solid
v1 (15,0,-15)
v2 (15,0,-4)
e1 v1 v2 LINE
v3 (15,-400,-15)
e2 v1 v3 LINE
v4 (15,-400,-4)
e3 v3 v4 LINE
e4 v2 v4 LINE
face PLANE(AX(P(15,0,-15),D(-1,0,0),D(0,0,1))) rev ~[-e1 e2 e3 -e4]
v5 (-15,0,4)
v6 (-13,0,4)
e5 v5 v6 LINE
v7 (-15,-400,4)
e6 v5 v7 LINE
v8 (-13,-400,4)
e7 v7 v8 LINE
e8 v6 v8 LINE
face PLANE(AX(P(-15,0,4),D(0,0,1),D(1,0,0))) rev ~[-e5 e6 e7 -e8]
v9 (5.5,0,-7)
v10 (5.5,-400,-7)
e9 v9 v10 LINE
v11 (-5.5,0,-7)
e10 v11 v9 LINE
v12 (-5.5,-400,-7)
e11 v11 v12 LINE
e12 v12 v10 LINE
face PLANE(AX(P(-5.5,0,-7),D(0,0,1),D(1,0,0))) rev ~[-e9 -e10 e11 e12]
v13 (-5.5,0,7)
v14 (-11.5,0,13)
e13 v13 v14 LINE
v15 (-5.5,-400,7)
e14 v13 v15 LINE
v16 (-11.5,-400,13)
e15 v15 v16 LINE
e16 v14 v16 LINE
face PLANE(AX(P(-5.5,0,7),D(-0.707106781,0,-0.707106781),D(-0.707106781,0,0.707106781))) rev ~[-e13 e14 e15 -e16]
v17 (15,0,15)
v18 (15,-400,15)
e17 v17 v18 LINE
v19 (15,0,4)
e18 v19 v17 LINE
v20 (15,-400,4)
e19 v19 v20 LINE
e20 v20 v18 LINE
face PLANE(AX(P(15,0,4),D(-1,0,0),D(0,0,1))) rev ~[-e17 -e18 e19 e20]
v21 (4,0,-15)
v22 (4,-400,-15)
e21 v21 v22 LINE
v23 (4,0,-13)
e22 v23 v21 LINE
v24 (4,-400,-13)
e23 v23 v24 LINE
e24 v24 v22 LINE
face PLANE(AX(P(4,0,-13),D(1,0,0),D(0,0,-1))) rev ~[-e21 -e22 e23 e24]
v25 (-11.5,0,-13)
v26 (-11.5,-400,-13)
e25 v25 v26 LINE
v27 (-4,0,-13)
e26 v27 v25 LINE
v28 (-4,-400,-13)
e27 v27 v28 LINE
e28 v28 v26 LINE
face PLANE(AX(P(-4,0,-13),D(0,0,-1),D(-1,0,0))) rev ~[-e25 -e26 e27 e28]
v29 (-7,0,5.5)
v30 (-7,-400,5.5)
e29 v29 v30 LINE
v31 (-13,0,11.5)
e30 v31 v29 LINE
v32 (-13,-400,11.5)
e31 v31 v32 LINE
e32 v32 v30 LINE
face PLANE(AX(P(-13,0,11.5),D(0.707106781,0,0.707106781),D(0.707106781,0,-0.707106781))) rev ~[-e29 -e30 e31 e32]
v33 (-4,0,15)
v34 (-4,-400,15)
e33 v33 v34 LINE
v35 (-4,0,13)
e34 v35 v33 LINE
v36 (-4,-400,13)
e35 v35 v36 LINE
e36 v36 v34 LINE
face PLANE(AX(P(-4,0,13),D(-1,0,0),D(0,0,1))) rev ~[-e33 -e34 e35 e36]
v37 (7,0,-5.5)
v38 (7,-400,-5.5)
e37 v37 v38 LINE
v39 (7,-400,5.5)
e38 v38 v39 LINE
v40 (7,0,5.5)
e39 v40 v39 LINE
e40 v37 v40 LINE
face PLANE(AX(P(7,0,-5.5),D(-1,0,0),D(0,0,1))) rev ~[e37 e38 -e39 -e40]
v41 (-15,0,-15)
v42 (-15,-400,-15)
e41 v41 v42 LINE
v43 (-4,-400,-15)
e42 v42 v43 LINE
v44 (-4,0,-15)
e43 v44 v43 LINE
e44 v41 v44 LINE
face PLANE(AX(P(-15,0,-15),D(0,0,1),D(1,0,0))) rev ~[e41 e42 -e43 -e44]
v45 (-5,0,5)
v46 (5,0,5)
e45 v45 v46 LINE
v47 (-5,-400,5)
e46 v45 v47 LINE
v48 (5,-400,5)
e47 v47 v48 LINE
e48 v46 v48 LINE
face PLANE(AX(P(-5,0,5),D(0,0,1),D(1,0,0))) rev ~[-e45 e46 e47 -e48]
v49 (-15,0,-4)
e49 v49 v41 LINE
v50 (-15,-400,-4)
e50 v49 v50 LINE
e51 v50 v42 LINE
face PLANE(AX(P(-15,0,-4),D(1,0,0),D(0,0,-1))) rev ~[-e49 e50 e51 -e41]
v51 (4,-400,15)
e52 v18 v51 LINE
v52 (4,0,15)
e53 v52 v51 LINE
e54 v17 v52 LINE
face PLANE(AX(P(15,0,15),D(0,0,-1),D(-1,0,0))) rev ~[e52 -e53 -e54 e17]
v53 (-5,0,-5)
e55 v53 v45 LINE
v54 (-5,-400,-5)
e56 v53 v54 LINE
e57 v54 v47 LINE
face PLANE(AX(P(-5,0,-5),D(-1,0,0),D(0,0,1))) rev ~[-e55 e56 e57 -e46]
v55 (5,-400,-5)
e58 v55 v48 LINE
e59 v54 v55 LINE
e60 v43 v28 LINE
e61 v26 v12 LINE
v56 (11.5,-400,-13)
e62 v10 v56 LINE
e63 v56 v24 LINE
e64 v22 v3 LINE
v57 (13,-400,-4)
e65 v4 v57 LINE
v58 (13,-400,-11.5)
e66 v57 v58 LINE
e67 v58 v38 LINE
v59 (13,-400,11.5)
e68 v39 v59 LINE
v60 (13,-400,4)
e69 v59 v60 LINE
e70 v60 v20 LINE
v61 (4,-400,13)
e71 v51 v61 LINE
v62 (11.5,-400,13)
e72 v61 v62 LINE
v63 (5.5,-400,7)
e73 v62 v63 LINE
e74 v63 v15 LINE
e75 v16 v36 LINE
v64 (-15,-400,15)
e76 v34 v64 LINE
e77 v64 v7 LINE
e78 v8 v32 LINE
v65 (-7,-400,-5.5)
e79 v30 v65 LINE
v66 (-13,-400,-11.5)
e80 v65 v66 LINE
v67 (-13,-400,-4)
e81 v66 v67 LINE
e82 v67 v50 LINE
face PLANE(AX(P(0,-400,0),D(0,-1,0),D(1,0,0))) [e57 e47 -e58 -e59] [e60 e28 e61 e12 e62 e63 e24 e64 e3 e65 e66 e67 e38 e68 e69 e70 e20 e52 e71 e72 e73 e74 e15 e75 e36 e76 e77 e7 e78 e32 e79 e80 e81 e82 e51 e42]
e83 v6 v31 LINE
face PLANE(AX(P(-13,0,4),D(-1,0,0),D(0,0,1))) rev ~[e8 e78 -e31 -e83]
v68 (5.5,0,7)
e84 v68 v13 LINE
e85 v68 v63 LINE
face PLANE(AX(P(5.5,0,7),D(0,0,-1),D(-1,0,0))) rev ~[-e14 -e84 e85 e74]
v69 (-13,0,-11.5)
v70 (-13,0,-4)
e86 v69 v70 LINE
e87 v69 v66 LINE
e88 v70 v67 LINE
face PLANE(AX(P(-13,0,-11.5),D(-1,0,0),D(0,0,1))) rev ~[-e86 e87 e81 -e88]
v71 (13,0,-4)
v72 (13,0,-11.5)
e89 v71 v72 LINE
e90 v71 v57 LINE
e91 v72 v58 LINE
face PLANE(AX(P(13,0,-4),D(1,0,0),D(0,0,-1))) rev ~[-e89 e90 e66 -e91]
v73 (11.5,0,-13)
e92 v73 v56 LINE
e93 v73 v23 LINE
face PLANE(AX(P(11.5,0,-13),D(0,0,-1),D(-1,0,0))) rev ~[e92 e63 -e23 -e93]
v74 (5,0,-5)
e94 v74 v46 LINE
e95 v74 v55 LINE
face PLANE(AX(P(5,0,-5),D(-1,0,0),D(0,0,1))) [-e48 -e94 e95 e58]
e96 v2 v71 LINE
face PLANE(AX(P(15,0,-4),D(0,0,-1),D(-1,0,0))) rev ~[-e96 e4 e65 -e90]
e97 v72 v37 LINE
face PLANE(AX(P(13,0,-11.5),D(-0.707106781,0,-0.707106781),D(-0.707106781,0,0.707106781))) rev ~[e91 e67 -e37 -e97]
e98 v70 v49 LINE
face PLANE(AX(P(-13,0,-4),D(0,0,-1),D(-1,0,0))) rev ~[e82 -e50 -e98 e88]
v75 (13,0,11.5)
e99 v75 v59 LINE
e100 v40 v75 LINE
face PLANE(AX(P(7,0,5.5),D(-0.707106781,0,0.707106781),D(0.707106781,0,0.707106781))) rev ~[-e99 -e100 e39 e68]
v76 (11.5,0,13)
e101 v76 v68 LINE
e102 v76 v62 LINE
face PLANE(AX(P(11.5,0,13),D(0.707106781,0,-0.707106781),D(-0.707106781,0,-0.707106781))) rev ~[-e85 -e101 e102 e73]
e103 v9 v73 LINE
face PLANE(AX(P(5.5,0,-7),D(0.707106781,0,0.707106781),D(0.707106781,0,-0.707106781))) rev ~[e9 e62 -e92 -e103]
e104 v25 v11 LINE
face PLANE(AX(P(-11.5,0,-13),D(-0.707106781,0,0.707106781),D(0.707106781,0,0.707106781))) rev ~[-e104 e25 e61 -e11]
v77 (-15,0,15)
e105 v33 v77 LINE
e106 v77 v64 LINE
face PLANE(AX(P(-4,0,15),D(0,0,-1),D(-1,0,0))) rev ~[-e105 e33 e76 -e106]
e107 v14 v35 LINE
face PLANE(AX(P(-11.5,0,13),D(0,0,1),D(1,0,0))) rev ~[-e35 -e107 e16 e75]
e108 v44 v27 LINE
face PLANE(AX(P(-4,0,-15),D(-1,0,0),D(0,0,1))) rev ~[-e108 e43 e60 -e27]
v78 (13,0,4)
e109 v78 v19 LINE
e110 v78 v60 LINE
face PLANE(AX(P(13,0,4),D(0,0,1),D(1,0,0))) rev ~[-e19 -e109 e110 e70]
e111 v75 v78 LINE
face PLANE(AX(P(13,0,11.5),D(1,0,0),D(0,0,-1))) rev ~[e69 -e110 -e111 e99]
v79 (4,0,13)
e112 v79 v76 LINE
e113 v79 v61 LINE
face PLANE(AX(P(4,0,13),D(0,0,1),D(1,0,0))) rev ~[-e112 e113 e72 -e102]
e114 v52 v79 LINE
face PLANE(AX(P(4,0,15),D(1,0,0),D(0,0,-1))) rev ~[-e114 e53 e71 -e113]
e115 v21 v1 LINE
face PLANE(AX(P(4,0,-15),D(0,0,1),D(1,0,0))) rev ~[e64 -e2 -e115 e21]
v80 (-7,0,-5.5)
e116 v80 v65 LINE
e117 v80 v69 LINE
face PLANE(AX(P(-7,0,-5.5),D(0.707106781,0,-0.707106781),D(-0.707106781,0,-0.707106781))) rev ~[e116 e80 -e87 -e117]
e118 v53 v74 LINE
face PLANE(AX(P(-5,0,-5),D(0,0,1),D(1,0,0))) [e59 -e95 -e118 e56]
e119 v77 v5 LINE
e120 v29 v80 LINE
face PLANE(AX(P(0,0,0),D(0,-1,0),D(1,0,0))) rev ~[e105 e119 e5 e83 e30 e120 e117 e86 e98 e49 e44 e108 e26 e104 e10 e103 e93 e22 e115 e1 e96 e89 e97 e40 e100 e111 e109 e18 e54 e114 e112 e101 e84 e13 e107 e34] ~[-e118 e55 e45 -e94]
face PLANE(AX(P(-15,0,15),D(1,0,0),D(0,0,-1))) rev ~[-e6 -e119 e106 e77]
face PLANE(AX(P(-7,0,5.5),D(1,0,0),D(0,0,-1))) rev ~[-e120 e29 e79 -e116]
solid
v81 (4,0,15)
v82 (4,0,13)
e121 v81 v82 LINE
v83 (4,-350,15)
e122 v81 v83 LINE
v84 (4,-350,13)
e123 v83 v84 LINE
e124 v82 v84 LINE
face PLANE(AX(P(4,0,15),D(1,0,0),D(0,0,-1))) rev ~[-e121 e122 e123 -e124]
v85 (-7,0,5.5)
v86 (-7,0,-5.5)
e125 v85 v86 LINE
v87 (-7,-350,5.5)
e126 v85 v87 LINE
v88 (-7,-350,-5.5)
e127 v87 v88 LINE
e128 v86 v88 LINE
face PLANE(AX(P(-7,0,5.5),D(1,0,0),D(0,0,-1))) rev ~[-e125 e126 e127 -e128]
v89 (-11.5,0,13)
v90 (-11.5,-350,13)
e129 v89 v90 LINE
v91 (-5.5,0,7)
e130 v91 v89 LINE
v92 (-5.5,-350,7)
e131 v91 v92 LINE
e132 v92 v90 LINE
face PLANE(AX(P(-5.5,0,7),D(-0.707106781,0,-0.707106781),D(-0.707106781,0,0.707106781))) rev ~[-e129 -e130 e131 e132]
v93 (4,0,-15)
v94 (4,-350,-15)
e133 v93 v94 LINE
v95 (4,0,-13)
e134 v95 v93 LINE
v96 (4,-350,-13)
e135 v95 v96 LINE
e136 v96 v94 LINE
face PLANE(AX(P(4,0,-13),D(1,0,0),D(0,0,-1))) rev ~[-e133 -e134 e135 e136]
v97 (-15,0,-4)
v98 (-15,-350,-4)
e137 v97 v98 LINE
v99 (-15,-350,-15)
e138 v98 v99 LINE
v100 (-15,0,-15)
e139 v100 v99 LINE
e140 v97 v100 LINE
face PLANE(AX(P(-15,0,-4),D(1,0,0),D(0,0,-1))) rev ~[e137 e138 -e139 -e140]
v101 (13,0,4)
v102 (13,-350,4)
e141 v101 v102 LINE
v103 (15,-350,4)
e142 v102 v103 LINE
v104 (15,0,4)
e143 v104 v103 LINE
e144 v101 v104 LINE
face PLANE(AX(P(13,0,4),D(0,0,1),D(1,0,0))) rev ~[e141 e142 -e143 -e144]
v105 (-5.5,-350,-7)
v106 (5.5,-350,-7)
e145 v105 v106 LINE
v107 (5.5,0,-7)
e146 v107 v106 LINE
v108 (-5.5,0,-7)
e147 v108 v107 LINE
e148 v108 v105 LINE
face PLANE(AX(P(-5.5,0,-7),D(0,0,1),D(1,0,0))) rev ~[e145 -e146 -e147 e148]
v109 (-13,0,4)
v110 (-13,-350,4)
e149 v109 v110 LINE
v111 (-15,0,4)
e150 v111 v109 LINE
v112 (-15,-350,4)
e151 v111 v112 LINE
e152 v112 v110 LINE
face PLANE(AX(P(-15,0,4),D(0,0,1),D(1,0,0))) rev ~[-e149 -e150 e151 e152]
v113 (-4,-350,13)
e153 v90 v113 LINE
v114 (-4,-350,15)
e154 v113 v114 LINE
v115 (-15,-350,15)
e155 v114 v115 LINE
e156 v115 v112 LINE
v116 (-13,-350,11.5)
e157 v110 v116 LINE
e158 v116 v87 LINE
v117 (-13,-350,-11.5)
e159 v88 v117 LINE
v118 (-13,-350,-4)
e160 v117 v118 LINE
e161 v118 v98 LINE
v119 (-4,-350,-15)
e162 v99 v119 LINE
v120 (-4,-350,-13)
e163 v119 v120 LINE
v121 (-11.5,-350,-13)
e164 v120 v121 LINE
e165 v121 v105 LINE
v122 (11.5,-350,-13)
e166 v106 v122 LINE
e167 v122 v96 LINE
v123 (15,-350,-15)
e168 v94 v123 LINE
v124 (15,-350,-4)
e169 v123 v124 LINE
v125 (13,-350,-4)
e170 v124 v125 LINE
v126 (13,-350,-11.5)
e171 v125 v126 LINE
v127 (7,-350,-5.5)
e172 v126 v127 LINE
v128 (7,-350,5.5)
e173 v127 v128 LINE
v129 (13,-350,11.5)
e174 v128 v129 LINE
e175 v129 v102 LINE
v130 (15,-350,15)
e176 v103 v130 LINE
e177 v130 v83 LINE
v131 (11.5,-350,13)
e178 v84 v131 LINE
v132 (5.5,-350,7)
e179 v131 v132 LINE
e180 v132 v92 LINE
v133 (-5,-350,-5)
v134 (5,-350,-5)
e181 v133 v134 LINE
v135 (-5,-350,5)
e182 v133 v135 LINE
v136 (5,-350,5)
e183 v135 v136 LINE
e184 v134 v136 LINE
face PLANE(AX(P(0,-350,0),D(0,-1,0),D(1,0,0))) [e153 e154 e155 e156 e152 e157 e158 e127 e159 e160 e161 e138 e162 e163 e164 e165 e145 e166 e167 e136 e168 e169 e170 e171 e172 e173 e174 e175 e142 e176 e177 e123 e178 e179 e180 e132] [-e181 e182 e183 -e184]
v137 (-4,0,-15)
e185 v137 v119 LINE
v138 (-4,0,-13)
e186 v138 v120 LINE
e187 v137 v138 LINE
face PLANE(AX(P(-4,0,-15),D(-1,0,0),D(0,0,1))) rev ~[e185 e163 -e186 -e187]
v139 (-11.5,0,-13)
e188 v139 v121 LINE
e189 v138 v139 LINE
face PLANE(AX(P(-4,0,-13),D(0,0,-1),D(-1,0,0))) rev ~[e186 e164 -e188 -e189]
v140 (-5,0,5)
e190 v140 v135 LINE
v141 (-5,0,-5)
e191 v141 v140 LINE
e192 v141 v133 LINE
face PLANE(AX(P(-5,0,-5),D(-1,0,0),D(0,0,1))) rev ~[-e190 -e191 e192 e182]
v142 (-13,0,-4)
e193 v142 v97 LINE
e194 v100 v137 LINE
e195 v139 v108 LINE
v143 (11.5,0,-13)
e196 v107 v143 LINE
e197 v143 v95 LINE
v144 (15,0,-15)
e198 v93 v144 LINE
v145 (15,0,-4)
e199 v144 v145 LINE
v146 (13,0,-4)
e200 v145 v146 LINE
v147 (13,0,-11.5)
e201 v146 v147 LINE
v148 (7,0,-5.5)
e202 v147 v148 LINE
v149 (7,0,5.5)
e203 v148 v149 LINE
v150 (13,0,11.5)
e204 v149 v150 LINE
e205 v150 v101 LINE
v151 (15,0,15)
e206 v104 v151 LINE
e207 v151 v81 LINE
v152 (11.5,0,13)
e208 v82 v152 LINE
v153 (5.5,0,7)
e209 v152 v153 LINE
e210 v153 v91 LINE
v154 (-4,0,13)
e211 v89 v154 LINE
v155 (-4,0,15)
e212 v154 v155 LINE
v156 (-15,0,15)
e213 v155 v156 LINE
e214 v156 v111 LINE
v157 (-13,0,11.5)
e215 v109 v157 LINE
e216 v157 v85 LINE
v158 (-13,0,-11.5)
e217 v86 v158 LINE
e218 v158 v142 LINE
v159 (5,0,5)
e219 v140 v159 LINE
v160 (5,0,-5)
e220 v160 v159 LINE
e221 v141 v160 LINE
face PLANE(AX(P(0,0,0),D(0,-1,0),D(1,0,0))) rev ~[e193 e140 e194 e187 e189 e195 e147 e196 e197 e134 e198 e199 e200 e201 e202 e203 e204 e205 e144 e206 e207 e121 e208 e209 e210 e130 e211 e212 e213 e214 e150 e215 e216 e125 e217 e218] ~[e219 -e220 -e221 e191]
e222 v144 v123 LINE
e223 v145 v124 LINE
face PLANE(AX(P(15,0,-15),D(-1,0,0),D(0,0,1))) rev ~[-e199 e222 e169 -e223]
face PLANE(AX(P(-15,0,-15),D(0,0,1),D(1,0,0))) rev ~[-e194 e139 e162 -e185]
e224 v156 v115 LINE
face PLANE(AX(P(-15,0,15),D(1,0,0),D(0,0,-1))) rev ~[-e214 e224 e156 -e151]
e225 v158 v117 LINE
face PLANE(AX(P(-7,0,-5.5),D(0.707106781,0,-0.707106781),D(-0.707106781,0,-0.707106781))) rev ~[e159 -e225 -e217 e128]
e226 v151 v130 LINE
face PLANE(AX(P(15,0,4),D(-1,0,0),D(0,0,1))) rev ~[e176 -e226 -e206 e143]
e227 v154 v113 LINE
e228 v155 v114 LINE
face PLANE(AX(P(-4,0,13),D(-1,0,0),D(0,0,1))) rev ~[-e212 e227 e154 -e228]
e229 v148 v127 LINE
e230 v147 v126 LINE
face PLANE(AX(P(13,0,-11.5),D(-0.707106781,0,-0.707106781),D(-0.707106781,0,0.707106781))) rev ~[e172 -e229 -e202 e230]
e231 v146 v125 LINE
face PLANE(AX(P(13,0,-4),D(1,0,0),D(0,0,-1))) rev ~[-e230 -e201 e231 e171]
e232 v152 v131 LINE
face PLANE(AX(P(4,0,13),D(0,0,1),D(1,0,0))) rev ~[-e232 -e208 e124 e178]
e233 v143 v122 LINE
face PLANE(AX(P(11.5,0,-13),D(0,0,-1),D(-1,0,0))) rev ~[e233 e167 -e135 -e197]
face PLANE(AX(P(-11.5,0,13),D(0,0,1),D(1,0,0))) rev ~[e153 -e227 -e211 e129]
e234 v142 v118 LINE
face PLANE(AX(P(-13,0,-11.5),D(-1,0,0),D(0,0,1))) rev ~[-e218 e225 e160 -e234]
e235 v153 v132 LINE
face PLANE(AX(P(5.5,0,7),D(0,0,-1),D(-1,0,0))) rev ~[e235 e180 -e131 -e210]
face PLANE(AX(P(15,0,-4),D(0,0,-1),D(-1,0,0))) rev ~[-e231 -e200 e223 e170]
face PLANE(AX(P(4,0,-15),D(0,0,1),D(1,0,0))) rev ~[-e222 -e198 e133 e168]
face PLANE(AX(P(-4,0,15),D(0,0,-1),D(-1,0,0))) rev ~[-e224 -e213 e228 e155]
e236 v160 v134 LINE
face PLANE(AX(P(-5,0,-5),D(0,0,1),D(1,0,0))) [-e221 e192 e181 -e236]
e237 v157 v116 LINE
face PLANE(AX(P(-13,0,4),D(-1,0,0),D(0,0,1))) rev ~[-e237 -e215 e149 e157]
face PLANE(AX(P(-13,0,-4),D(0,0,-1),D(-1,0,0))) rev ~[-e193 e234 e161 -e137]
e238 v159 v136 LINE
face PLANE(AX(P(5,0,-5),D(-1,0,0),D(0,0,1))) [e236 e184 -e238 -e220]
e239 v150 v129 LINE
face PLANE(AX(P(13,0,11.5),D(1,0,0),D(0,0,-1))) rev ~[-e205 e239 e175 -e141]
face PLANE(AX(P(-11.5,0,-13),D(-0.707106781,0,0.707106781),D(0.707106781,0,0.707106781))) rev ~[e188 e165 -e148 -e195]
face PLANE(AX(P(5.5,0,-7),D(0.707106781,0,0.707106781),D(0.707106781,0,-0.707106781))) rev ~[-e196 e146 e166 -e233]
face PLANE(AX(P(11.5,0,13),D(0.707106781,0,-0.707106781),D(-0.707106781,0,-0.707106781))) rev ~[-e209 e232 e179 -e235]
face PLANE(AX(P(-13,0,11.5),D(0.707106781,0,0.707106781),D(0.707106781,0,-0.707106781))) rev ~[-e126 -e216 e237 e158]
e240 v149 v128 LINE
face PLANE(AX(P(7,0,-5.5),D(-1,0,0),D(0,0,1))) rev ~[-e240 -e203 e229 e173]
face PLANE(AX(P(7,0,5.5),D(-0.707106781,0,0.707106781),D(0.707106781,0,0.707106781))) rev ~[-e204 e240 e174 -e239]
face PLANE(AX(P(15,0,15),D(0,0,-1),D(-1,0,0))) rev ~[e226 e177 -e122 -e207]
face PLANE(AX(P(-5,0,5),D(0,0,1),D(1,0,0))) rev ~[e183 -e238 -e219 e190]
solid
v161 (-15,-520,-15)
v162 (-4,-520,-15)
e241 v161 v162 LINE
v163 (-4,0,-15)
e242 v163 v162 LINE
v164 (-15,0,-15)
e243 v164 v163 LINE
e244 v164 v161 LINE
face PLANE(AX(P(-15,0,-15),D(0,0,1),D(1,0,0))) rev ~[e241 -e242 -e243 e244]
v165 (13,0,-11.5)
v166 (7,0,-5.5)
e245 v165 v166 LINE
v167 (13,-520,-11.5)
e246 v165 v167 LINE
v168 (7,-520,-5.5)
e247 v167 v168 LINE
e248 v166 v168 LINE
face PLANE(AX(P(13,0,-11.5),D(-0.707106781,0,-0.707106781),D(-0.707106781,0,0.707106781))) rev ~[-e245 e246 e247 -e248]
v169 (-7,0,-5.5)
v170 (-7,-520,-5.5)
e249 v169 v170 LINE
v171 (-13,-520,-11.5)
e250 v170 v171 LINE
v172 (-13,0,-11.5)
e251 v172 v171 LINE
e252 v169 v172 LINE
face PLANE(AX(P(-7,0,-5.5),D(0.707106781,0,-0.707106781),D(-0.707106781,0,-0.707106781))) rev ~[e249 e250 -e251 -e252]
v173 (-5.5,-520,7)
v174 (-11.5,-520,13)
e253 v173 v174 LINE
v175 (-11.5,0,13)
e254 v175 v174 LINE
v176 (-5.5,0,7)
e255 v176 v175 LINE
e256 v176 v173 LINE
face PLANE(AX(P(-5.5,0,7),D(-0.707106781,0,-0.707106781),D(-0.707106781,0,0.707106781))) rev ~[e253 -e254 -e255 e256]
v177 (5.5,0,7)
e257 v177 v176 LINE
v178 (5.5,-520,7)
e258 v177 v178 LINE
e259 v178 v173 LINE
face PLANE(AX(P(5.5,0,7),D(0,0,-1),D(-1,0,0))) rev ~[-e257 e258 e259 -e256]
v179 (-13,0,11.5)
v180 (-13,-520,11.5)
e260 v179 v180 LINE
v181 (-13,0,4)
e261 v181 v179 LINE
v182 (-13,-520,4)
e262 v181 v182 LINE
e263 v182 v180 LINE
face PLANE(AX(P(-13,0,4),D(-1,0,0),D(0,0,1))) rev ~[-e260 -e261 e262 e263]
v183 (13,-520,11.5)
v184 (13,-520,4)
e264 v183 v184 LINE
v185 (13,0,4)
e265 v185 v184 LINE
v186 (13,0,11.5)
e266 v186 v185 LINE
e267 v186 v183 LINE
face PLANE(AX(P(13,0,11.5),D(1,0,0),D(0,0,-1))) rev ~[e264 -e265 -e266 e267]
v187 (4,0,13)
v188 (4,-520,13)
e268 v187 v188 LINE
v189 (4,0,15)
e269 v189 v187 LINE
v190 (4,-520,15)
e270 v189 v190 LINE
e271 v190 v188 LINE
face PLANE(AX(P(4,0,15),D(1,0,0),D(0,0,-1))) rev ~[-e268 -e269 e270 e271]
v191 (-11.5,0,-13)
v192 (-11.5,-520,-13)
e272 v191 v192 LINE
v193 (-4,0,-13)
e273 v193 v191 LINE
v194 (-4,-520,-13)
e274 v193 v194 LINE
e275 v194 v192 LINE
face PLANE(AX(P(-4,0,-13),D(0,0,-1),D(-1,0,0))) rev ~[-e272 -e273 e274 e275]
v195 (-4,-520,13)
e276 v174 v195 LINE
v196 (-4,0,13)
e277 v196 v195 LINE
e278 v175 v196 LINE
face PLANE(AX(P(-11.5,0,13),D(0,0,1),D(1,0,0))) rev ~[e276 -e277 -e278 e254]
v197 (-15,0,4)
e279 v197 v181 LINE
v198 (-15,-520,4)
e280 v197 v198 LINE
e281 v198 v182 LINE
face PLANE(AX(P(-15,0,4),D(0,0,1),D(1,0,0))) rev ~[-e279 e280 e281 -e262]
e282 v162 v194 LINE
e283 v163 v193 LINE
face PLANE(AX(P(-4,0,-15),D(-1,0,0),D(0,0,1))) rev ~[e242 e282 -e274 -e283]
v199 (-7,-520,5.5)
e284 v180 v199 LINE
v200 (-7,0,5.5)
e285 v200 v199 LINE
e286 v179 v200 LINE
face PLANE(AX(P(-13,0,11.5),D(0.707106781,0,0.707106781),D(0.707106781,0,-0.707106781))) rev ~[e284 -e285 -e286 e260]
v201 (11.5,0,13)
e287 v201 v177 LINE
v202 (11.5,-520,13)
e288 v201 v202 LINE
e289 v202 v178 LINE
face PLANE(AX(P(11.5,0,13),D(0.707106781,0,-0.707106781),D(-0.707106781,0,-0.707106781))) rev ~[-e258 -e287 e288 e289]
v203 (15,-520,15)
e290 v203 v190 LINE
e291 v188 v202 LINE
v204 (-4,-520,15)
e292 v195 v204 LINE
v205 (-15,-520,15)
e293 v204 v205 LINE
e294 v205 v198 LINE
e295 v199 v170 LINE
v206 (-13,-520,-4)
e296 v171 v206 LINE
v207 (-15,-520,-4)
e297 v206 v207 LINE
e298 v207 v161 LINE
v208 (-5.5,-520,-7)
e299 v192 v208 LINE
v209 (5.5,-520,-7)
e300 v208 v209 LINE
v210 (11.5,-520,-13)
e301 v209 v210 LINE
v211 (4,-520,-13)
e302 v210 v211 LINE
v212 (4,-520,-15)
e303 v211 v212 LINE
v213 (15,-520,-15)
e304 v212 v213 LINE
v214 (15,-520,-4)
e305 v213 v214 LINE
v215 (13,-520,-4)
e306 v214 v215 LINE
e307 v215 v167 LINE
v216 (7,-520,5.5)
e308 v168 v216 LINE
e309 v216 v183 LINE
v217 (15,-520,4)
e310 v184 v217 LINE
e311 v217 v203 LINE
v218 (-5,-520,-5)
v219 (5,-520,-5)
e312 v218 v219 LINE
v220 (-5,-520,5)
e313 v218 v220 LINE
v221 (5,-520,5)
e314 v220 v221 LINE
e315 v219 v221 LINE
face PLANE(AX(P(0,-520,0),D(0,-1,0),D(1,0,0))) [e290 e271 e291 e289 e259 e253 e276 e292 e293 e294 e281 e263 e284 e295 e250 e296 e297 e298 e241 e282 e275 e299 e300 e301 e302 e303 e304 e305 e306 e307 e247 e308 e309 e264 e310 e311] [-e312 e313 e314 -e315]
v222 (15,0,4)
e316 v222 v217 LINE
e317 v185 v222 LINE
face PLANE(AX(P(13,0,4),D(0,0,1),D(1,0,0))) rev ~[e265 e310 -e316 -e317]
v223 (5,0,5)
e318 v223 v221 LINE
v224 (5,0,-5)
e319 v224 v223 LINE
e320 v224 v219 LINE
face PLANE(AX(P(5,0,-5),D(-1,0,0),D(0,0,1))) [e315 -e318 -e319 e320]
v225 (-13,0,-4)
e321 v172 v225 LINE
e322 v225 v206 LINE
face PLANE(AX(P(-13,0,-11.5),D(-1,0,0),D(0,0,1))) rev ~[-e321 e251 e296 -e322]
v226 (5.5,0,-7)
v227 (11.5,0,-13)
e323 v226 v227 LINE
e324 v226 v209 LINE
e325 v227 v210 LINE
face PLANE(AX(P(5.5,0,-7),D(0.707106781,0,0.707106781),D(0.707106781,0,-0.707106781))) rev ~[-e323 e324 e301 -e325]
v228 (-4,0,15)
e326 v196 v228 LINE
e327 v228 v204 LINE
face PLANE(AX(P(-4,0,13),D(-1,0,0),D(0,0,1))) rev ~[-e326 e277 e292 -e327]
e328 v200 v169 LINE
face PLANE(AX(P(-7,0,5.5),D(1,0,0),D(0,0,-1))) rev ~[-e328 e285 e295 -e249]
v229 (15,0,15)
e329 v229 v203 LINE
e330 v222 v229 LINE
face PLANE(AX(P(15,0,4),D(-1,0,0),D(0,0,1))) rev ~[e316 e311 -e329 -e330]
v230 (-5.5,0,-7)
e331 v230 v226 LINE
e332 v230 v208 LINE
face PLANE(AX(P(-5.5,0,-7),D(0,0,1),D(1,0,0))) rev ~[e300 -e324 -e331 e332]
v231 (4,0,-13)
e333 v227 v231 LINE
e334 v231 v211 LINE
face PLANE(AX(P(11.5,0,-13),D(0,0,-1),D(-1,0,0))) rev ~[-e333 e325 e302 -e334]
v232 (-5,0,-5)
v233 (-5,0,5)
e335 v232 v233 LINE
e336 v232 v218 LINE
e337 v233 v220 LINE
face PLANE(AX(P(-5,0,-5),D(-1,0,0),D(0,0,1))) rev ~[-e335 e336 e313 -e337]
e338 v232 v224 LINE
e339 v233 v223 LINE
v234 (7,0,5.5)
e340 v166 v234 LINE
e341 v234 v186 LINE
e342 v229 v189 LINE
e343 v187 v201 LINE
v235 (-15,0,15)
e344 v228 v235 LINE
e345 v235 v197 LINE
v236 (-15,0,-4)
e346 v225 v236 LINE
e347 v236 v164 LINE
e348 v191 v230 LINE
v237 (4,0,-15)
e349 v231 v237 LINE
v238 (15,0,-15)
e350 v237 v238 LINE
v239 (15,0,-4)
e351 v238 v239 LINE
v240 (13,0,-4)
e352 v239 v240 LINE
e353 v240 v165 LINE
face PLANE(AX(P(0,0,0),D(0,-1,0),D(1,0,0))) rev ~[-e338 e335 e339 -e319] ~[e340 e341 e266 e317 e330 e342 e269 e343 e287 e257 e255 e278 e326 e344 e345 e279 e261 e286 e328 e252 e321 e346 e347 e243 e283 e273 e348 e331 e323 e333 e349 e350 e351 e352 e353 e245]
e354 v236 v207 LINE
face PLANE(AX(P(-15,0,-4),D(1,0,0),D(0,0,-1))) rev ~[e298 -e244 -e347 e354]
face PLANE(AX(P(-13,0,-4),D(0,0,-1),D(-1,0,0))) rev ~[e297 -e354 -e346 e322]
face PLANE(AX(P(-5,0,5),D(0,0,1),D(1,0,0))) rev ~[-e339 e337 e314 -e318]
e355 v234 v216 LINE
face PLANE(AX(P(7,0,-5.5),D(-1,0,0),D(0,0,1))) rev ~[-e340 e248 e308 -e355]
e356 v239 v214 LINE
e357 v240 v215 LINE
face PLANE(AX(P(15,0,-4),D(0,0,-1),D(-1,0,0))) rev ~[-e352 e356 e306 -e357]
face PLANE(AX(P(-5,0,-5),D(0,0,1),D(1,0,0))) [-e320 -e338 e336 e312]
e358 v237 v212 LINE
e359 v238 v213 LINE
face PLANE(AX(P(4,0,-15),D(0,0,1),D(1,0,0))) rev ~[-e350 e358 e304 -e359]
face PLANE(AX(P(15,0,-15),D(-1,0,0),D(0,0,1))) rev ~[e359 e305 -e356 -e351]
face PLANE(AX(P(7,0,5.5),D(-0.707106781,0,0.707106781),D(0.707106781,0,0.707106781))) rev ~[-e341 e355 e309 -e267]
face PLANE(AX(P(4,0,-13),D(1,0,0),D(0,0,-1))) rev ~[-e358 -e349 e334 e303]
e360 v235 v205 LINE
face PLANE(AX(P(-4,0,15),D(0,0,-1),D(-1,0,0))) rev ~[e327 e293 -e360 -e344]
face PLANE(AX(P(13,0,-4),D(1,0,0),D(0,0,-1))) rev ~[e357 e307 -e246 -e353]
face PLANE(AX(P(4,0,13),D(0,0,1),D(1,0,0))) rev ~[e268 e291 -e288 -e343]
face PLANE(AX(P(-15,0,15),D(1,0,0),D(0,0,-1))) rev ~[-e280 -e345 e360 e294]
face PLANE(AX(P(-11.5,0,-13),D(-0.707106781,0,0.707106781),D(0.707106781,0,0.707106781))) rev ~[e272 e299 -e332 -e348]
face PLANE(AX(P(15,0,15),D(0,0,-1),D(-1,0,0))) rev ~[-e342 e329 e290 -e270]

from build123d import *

# Parameters (mm, degrees)
F0_W     = 10
F0_H     = 10
F1_DEPTH = 520
F2_DEPTH = 400
F3_DEPTH = 350


with BuildPart() as f1:
    # F0 (on Front) → F1 (new body)
    with BuildSketch(Plane.XZ):
        Polygon((-4, 15), (-15, 15), (-15, 4), (-13, 4), (-13, 11.5), (-7, 5.5), (-7, -5.5), (-13, -11.5), (-13, -4), (-15, -4), (-15, -15), (-4, -15), (-4, -13), (-11.5, -13), (-5.5, -7), (5.5, -7), (11.5, -13), (4, -13), (4, -15), (15, -15), (15, -4), (13, -4), (13, -11.5), (7, -5.5), (7, 5.5), (13, 11.5), (13, 4), (15, 4), (15, 15), (4, 15), (4, 13), (11.5, 13), (5.5, 7), (-5.5, 7), (-11.5, 13), (-4, 13), align=None)
        Rectangle(F0_W, F0_H, mode=Mode.SUBTRACT)
    extrude(amount=F1_DEPTH)


with BuildPart() as f2:
    # F0 (on Front) → F2 (new body)
    with BuildSketch(Plane.XZ):
        Polygon((-4, 15), (-15, 15), (-15, 4), (-13, 4), (-13, 11.5), (-7, 5.5), (-7, -5.5), (-13, -11.5), (-13, -4), (-15, -4), (-15, -15), (-4, -15), (-4, -13), (-11.5, -13), (-5.5, -7), (5.5, -7), (11.5, -13), (4, -13), (4, -15), (15, -15), (15, -4), (13, -4), (13, -11.5), (7, -5.5), (7, 5.5), (13, 11.5), (13, 4), (15, 4), (15, 15), (4, 15), (4, 13), (11.5, 13), (5.5, 7), (-5.5, 7), (-11.5, 13), (-4, 13), align=None)
        Rectangle(F0_W, F0_H, mode=Mode.SUBTRACT)
    extrude(amount=F2_DEPTH)


with BuildPart() as f3:
    # F0 (on Front) → F3 (new body)
    with BuildSketch(Plane.XZ):
        Polygon((-4, 15), (-15, 15), (-15, 4), (-13, 4), (-13, 11.5), (-7, 5.5), (-7, -5.5), (-13, -11.5), (-13, -4), (-15, -4), (-15, -15), (-4, -15), (-4, -13), (-11.5, -13), (-5.5, -7), (5.5, -7), (11.5, -13), (4, -13), (4, -15), (15, -15), (15, -4), (13, -4), (13, -11.5), (7, -5.5), (7, 5.5), (13, 11.5), (13, 4), (15, 4), (15, 15), (4, 15), (4, 13), (11.5, 13), (5.5, 7), (-5.5, 7), (-11.5, 13), (-4, 13), align=None)
        Rectangle(F0_W, F0_H, mode=Mode.SUBTRACT)
    extrude(amount=F3_DEPTH)


solid = Compound([f1.part, f2.part, f3.part])
